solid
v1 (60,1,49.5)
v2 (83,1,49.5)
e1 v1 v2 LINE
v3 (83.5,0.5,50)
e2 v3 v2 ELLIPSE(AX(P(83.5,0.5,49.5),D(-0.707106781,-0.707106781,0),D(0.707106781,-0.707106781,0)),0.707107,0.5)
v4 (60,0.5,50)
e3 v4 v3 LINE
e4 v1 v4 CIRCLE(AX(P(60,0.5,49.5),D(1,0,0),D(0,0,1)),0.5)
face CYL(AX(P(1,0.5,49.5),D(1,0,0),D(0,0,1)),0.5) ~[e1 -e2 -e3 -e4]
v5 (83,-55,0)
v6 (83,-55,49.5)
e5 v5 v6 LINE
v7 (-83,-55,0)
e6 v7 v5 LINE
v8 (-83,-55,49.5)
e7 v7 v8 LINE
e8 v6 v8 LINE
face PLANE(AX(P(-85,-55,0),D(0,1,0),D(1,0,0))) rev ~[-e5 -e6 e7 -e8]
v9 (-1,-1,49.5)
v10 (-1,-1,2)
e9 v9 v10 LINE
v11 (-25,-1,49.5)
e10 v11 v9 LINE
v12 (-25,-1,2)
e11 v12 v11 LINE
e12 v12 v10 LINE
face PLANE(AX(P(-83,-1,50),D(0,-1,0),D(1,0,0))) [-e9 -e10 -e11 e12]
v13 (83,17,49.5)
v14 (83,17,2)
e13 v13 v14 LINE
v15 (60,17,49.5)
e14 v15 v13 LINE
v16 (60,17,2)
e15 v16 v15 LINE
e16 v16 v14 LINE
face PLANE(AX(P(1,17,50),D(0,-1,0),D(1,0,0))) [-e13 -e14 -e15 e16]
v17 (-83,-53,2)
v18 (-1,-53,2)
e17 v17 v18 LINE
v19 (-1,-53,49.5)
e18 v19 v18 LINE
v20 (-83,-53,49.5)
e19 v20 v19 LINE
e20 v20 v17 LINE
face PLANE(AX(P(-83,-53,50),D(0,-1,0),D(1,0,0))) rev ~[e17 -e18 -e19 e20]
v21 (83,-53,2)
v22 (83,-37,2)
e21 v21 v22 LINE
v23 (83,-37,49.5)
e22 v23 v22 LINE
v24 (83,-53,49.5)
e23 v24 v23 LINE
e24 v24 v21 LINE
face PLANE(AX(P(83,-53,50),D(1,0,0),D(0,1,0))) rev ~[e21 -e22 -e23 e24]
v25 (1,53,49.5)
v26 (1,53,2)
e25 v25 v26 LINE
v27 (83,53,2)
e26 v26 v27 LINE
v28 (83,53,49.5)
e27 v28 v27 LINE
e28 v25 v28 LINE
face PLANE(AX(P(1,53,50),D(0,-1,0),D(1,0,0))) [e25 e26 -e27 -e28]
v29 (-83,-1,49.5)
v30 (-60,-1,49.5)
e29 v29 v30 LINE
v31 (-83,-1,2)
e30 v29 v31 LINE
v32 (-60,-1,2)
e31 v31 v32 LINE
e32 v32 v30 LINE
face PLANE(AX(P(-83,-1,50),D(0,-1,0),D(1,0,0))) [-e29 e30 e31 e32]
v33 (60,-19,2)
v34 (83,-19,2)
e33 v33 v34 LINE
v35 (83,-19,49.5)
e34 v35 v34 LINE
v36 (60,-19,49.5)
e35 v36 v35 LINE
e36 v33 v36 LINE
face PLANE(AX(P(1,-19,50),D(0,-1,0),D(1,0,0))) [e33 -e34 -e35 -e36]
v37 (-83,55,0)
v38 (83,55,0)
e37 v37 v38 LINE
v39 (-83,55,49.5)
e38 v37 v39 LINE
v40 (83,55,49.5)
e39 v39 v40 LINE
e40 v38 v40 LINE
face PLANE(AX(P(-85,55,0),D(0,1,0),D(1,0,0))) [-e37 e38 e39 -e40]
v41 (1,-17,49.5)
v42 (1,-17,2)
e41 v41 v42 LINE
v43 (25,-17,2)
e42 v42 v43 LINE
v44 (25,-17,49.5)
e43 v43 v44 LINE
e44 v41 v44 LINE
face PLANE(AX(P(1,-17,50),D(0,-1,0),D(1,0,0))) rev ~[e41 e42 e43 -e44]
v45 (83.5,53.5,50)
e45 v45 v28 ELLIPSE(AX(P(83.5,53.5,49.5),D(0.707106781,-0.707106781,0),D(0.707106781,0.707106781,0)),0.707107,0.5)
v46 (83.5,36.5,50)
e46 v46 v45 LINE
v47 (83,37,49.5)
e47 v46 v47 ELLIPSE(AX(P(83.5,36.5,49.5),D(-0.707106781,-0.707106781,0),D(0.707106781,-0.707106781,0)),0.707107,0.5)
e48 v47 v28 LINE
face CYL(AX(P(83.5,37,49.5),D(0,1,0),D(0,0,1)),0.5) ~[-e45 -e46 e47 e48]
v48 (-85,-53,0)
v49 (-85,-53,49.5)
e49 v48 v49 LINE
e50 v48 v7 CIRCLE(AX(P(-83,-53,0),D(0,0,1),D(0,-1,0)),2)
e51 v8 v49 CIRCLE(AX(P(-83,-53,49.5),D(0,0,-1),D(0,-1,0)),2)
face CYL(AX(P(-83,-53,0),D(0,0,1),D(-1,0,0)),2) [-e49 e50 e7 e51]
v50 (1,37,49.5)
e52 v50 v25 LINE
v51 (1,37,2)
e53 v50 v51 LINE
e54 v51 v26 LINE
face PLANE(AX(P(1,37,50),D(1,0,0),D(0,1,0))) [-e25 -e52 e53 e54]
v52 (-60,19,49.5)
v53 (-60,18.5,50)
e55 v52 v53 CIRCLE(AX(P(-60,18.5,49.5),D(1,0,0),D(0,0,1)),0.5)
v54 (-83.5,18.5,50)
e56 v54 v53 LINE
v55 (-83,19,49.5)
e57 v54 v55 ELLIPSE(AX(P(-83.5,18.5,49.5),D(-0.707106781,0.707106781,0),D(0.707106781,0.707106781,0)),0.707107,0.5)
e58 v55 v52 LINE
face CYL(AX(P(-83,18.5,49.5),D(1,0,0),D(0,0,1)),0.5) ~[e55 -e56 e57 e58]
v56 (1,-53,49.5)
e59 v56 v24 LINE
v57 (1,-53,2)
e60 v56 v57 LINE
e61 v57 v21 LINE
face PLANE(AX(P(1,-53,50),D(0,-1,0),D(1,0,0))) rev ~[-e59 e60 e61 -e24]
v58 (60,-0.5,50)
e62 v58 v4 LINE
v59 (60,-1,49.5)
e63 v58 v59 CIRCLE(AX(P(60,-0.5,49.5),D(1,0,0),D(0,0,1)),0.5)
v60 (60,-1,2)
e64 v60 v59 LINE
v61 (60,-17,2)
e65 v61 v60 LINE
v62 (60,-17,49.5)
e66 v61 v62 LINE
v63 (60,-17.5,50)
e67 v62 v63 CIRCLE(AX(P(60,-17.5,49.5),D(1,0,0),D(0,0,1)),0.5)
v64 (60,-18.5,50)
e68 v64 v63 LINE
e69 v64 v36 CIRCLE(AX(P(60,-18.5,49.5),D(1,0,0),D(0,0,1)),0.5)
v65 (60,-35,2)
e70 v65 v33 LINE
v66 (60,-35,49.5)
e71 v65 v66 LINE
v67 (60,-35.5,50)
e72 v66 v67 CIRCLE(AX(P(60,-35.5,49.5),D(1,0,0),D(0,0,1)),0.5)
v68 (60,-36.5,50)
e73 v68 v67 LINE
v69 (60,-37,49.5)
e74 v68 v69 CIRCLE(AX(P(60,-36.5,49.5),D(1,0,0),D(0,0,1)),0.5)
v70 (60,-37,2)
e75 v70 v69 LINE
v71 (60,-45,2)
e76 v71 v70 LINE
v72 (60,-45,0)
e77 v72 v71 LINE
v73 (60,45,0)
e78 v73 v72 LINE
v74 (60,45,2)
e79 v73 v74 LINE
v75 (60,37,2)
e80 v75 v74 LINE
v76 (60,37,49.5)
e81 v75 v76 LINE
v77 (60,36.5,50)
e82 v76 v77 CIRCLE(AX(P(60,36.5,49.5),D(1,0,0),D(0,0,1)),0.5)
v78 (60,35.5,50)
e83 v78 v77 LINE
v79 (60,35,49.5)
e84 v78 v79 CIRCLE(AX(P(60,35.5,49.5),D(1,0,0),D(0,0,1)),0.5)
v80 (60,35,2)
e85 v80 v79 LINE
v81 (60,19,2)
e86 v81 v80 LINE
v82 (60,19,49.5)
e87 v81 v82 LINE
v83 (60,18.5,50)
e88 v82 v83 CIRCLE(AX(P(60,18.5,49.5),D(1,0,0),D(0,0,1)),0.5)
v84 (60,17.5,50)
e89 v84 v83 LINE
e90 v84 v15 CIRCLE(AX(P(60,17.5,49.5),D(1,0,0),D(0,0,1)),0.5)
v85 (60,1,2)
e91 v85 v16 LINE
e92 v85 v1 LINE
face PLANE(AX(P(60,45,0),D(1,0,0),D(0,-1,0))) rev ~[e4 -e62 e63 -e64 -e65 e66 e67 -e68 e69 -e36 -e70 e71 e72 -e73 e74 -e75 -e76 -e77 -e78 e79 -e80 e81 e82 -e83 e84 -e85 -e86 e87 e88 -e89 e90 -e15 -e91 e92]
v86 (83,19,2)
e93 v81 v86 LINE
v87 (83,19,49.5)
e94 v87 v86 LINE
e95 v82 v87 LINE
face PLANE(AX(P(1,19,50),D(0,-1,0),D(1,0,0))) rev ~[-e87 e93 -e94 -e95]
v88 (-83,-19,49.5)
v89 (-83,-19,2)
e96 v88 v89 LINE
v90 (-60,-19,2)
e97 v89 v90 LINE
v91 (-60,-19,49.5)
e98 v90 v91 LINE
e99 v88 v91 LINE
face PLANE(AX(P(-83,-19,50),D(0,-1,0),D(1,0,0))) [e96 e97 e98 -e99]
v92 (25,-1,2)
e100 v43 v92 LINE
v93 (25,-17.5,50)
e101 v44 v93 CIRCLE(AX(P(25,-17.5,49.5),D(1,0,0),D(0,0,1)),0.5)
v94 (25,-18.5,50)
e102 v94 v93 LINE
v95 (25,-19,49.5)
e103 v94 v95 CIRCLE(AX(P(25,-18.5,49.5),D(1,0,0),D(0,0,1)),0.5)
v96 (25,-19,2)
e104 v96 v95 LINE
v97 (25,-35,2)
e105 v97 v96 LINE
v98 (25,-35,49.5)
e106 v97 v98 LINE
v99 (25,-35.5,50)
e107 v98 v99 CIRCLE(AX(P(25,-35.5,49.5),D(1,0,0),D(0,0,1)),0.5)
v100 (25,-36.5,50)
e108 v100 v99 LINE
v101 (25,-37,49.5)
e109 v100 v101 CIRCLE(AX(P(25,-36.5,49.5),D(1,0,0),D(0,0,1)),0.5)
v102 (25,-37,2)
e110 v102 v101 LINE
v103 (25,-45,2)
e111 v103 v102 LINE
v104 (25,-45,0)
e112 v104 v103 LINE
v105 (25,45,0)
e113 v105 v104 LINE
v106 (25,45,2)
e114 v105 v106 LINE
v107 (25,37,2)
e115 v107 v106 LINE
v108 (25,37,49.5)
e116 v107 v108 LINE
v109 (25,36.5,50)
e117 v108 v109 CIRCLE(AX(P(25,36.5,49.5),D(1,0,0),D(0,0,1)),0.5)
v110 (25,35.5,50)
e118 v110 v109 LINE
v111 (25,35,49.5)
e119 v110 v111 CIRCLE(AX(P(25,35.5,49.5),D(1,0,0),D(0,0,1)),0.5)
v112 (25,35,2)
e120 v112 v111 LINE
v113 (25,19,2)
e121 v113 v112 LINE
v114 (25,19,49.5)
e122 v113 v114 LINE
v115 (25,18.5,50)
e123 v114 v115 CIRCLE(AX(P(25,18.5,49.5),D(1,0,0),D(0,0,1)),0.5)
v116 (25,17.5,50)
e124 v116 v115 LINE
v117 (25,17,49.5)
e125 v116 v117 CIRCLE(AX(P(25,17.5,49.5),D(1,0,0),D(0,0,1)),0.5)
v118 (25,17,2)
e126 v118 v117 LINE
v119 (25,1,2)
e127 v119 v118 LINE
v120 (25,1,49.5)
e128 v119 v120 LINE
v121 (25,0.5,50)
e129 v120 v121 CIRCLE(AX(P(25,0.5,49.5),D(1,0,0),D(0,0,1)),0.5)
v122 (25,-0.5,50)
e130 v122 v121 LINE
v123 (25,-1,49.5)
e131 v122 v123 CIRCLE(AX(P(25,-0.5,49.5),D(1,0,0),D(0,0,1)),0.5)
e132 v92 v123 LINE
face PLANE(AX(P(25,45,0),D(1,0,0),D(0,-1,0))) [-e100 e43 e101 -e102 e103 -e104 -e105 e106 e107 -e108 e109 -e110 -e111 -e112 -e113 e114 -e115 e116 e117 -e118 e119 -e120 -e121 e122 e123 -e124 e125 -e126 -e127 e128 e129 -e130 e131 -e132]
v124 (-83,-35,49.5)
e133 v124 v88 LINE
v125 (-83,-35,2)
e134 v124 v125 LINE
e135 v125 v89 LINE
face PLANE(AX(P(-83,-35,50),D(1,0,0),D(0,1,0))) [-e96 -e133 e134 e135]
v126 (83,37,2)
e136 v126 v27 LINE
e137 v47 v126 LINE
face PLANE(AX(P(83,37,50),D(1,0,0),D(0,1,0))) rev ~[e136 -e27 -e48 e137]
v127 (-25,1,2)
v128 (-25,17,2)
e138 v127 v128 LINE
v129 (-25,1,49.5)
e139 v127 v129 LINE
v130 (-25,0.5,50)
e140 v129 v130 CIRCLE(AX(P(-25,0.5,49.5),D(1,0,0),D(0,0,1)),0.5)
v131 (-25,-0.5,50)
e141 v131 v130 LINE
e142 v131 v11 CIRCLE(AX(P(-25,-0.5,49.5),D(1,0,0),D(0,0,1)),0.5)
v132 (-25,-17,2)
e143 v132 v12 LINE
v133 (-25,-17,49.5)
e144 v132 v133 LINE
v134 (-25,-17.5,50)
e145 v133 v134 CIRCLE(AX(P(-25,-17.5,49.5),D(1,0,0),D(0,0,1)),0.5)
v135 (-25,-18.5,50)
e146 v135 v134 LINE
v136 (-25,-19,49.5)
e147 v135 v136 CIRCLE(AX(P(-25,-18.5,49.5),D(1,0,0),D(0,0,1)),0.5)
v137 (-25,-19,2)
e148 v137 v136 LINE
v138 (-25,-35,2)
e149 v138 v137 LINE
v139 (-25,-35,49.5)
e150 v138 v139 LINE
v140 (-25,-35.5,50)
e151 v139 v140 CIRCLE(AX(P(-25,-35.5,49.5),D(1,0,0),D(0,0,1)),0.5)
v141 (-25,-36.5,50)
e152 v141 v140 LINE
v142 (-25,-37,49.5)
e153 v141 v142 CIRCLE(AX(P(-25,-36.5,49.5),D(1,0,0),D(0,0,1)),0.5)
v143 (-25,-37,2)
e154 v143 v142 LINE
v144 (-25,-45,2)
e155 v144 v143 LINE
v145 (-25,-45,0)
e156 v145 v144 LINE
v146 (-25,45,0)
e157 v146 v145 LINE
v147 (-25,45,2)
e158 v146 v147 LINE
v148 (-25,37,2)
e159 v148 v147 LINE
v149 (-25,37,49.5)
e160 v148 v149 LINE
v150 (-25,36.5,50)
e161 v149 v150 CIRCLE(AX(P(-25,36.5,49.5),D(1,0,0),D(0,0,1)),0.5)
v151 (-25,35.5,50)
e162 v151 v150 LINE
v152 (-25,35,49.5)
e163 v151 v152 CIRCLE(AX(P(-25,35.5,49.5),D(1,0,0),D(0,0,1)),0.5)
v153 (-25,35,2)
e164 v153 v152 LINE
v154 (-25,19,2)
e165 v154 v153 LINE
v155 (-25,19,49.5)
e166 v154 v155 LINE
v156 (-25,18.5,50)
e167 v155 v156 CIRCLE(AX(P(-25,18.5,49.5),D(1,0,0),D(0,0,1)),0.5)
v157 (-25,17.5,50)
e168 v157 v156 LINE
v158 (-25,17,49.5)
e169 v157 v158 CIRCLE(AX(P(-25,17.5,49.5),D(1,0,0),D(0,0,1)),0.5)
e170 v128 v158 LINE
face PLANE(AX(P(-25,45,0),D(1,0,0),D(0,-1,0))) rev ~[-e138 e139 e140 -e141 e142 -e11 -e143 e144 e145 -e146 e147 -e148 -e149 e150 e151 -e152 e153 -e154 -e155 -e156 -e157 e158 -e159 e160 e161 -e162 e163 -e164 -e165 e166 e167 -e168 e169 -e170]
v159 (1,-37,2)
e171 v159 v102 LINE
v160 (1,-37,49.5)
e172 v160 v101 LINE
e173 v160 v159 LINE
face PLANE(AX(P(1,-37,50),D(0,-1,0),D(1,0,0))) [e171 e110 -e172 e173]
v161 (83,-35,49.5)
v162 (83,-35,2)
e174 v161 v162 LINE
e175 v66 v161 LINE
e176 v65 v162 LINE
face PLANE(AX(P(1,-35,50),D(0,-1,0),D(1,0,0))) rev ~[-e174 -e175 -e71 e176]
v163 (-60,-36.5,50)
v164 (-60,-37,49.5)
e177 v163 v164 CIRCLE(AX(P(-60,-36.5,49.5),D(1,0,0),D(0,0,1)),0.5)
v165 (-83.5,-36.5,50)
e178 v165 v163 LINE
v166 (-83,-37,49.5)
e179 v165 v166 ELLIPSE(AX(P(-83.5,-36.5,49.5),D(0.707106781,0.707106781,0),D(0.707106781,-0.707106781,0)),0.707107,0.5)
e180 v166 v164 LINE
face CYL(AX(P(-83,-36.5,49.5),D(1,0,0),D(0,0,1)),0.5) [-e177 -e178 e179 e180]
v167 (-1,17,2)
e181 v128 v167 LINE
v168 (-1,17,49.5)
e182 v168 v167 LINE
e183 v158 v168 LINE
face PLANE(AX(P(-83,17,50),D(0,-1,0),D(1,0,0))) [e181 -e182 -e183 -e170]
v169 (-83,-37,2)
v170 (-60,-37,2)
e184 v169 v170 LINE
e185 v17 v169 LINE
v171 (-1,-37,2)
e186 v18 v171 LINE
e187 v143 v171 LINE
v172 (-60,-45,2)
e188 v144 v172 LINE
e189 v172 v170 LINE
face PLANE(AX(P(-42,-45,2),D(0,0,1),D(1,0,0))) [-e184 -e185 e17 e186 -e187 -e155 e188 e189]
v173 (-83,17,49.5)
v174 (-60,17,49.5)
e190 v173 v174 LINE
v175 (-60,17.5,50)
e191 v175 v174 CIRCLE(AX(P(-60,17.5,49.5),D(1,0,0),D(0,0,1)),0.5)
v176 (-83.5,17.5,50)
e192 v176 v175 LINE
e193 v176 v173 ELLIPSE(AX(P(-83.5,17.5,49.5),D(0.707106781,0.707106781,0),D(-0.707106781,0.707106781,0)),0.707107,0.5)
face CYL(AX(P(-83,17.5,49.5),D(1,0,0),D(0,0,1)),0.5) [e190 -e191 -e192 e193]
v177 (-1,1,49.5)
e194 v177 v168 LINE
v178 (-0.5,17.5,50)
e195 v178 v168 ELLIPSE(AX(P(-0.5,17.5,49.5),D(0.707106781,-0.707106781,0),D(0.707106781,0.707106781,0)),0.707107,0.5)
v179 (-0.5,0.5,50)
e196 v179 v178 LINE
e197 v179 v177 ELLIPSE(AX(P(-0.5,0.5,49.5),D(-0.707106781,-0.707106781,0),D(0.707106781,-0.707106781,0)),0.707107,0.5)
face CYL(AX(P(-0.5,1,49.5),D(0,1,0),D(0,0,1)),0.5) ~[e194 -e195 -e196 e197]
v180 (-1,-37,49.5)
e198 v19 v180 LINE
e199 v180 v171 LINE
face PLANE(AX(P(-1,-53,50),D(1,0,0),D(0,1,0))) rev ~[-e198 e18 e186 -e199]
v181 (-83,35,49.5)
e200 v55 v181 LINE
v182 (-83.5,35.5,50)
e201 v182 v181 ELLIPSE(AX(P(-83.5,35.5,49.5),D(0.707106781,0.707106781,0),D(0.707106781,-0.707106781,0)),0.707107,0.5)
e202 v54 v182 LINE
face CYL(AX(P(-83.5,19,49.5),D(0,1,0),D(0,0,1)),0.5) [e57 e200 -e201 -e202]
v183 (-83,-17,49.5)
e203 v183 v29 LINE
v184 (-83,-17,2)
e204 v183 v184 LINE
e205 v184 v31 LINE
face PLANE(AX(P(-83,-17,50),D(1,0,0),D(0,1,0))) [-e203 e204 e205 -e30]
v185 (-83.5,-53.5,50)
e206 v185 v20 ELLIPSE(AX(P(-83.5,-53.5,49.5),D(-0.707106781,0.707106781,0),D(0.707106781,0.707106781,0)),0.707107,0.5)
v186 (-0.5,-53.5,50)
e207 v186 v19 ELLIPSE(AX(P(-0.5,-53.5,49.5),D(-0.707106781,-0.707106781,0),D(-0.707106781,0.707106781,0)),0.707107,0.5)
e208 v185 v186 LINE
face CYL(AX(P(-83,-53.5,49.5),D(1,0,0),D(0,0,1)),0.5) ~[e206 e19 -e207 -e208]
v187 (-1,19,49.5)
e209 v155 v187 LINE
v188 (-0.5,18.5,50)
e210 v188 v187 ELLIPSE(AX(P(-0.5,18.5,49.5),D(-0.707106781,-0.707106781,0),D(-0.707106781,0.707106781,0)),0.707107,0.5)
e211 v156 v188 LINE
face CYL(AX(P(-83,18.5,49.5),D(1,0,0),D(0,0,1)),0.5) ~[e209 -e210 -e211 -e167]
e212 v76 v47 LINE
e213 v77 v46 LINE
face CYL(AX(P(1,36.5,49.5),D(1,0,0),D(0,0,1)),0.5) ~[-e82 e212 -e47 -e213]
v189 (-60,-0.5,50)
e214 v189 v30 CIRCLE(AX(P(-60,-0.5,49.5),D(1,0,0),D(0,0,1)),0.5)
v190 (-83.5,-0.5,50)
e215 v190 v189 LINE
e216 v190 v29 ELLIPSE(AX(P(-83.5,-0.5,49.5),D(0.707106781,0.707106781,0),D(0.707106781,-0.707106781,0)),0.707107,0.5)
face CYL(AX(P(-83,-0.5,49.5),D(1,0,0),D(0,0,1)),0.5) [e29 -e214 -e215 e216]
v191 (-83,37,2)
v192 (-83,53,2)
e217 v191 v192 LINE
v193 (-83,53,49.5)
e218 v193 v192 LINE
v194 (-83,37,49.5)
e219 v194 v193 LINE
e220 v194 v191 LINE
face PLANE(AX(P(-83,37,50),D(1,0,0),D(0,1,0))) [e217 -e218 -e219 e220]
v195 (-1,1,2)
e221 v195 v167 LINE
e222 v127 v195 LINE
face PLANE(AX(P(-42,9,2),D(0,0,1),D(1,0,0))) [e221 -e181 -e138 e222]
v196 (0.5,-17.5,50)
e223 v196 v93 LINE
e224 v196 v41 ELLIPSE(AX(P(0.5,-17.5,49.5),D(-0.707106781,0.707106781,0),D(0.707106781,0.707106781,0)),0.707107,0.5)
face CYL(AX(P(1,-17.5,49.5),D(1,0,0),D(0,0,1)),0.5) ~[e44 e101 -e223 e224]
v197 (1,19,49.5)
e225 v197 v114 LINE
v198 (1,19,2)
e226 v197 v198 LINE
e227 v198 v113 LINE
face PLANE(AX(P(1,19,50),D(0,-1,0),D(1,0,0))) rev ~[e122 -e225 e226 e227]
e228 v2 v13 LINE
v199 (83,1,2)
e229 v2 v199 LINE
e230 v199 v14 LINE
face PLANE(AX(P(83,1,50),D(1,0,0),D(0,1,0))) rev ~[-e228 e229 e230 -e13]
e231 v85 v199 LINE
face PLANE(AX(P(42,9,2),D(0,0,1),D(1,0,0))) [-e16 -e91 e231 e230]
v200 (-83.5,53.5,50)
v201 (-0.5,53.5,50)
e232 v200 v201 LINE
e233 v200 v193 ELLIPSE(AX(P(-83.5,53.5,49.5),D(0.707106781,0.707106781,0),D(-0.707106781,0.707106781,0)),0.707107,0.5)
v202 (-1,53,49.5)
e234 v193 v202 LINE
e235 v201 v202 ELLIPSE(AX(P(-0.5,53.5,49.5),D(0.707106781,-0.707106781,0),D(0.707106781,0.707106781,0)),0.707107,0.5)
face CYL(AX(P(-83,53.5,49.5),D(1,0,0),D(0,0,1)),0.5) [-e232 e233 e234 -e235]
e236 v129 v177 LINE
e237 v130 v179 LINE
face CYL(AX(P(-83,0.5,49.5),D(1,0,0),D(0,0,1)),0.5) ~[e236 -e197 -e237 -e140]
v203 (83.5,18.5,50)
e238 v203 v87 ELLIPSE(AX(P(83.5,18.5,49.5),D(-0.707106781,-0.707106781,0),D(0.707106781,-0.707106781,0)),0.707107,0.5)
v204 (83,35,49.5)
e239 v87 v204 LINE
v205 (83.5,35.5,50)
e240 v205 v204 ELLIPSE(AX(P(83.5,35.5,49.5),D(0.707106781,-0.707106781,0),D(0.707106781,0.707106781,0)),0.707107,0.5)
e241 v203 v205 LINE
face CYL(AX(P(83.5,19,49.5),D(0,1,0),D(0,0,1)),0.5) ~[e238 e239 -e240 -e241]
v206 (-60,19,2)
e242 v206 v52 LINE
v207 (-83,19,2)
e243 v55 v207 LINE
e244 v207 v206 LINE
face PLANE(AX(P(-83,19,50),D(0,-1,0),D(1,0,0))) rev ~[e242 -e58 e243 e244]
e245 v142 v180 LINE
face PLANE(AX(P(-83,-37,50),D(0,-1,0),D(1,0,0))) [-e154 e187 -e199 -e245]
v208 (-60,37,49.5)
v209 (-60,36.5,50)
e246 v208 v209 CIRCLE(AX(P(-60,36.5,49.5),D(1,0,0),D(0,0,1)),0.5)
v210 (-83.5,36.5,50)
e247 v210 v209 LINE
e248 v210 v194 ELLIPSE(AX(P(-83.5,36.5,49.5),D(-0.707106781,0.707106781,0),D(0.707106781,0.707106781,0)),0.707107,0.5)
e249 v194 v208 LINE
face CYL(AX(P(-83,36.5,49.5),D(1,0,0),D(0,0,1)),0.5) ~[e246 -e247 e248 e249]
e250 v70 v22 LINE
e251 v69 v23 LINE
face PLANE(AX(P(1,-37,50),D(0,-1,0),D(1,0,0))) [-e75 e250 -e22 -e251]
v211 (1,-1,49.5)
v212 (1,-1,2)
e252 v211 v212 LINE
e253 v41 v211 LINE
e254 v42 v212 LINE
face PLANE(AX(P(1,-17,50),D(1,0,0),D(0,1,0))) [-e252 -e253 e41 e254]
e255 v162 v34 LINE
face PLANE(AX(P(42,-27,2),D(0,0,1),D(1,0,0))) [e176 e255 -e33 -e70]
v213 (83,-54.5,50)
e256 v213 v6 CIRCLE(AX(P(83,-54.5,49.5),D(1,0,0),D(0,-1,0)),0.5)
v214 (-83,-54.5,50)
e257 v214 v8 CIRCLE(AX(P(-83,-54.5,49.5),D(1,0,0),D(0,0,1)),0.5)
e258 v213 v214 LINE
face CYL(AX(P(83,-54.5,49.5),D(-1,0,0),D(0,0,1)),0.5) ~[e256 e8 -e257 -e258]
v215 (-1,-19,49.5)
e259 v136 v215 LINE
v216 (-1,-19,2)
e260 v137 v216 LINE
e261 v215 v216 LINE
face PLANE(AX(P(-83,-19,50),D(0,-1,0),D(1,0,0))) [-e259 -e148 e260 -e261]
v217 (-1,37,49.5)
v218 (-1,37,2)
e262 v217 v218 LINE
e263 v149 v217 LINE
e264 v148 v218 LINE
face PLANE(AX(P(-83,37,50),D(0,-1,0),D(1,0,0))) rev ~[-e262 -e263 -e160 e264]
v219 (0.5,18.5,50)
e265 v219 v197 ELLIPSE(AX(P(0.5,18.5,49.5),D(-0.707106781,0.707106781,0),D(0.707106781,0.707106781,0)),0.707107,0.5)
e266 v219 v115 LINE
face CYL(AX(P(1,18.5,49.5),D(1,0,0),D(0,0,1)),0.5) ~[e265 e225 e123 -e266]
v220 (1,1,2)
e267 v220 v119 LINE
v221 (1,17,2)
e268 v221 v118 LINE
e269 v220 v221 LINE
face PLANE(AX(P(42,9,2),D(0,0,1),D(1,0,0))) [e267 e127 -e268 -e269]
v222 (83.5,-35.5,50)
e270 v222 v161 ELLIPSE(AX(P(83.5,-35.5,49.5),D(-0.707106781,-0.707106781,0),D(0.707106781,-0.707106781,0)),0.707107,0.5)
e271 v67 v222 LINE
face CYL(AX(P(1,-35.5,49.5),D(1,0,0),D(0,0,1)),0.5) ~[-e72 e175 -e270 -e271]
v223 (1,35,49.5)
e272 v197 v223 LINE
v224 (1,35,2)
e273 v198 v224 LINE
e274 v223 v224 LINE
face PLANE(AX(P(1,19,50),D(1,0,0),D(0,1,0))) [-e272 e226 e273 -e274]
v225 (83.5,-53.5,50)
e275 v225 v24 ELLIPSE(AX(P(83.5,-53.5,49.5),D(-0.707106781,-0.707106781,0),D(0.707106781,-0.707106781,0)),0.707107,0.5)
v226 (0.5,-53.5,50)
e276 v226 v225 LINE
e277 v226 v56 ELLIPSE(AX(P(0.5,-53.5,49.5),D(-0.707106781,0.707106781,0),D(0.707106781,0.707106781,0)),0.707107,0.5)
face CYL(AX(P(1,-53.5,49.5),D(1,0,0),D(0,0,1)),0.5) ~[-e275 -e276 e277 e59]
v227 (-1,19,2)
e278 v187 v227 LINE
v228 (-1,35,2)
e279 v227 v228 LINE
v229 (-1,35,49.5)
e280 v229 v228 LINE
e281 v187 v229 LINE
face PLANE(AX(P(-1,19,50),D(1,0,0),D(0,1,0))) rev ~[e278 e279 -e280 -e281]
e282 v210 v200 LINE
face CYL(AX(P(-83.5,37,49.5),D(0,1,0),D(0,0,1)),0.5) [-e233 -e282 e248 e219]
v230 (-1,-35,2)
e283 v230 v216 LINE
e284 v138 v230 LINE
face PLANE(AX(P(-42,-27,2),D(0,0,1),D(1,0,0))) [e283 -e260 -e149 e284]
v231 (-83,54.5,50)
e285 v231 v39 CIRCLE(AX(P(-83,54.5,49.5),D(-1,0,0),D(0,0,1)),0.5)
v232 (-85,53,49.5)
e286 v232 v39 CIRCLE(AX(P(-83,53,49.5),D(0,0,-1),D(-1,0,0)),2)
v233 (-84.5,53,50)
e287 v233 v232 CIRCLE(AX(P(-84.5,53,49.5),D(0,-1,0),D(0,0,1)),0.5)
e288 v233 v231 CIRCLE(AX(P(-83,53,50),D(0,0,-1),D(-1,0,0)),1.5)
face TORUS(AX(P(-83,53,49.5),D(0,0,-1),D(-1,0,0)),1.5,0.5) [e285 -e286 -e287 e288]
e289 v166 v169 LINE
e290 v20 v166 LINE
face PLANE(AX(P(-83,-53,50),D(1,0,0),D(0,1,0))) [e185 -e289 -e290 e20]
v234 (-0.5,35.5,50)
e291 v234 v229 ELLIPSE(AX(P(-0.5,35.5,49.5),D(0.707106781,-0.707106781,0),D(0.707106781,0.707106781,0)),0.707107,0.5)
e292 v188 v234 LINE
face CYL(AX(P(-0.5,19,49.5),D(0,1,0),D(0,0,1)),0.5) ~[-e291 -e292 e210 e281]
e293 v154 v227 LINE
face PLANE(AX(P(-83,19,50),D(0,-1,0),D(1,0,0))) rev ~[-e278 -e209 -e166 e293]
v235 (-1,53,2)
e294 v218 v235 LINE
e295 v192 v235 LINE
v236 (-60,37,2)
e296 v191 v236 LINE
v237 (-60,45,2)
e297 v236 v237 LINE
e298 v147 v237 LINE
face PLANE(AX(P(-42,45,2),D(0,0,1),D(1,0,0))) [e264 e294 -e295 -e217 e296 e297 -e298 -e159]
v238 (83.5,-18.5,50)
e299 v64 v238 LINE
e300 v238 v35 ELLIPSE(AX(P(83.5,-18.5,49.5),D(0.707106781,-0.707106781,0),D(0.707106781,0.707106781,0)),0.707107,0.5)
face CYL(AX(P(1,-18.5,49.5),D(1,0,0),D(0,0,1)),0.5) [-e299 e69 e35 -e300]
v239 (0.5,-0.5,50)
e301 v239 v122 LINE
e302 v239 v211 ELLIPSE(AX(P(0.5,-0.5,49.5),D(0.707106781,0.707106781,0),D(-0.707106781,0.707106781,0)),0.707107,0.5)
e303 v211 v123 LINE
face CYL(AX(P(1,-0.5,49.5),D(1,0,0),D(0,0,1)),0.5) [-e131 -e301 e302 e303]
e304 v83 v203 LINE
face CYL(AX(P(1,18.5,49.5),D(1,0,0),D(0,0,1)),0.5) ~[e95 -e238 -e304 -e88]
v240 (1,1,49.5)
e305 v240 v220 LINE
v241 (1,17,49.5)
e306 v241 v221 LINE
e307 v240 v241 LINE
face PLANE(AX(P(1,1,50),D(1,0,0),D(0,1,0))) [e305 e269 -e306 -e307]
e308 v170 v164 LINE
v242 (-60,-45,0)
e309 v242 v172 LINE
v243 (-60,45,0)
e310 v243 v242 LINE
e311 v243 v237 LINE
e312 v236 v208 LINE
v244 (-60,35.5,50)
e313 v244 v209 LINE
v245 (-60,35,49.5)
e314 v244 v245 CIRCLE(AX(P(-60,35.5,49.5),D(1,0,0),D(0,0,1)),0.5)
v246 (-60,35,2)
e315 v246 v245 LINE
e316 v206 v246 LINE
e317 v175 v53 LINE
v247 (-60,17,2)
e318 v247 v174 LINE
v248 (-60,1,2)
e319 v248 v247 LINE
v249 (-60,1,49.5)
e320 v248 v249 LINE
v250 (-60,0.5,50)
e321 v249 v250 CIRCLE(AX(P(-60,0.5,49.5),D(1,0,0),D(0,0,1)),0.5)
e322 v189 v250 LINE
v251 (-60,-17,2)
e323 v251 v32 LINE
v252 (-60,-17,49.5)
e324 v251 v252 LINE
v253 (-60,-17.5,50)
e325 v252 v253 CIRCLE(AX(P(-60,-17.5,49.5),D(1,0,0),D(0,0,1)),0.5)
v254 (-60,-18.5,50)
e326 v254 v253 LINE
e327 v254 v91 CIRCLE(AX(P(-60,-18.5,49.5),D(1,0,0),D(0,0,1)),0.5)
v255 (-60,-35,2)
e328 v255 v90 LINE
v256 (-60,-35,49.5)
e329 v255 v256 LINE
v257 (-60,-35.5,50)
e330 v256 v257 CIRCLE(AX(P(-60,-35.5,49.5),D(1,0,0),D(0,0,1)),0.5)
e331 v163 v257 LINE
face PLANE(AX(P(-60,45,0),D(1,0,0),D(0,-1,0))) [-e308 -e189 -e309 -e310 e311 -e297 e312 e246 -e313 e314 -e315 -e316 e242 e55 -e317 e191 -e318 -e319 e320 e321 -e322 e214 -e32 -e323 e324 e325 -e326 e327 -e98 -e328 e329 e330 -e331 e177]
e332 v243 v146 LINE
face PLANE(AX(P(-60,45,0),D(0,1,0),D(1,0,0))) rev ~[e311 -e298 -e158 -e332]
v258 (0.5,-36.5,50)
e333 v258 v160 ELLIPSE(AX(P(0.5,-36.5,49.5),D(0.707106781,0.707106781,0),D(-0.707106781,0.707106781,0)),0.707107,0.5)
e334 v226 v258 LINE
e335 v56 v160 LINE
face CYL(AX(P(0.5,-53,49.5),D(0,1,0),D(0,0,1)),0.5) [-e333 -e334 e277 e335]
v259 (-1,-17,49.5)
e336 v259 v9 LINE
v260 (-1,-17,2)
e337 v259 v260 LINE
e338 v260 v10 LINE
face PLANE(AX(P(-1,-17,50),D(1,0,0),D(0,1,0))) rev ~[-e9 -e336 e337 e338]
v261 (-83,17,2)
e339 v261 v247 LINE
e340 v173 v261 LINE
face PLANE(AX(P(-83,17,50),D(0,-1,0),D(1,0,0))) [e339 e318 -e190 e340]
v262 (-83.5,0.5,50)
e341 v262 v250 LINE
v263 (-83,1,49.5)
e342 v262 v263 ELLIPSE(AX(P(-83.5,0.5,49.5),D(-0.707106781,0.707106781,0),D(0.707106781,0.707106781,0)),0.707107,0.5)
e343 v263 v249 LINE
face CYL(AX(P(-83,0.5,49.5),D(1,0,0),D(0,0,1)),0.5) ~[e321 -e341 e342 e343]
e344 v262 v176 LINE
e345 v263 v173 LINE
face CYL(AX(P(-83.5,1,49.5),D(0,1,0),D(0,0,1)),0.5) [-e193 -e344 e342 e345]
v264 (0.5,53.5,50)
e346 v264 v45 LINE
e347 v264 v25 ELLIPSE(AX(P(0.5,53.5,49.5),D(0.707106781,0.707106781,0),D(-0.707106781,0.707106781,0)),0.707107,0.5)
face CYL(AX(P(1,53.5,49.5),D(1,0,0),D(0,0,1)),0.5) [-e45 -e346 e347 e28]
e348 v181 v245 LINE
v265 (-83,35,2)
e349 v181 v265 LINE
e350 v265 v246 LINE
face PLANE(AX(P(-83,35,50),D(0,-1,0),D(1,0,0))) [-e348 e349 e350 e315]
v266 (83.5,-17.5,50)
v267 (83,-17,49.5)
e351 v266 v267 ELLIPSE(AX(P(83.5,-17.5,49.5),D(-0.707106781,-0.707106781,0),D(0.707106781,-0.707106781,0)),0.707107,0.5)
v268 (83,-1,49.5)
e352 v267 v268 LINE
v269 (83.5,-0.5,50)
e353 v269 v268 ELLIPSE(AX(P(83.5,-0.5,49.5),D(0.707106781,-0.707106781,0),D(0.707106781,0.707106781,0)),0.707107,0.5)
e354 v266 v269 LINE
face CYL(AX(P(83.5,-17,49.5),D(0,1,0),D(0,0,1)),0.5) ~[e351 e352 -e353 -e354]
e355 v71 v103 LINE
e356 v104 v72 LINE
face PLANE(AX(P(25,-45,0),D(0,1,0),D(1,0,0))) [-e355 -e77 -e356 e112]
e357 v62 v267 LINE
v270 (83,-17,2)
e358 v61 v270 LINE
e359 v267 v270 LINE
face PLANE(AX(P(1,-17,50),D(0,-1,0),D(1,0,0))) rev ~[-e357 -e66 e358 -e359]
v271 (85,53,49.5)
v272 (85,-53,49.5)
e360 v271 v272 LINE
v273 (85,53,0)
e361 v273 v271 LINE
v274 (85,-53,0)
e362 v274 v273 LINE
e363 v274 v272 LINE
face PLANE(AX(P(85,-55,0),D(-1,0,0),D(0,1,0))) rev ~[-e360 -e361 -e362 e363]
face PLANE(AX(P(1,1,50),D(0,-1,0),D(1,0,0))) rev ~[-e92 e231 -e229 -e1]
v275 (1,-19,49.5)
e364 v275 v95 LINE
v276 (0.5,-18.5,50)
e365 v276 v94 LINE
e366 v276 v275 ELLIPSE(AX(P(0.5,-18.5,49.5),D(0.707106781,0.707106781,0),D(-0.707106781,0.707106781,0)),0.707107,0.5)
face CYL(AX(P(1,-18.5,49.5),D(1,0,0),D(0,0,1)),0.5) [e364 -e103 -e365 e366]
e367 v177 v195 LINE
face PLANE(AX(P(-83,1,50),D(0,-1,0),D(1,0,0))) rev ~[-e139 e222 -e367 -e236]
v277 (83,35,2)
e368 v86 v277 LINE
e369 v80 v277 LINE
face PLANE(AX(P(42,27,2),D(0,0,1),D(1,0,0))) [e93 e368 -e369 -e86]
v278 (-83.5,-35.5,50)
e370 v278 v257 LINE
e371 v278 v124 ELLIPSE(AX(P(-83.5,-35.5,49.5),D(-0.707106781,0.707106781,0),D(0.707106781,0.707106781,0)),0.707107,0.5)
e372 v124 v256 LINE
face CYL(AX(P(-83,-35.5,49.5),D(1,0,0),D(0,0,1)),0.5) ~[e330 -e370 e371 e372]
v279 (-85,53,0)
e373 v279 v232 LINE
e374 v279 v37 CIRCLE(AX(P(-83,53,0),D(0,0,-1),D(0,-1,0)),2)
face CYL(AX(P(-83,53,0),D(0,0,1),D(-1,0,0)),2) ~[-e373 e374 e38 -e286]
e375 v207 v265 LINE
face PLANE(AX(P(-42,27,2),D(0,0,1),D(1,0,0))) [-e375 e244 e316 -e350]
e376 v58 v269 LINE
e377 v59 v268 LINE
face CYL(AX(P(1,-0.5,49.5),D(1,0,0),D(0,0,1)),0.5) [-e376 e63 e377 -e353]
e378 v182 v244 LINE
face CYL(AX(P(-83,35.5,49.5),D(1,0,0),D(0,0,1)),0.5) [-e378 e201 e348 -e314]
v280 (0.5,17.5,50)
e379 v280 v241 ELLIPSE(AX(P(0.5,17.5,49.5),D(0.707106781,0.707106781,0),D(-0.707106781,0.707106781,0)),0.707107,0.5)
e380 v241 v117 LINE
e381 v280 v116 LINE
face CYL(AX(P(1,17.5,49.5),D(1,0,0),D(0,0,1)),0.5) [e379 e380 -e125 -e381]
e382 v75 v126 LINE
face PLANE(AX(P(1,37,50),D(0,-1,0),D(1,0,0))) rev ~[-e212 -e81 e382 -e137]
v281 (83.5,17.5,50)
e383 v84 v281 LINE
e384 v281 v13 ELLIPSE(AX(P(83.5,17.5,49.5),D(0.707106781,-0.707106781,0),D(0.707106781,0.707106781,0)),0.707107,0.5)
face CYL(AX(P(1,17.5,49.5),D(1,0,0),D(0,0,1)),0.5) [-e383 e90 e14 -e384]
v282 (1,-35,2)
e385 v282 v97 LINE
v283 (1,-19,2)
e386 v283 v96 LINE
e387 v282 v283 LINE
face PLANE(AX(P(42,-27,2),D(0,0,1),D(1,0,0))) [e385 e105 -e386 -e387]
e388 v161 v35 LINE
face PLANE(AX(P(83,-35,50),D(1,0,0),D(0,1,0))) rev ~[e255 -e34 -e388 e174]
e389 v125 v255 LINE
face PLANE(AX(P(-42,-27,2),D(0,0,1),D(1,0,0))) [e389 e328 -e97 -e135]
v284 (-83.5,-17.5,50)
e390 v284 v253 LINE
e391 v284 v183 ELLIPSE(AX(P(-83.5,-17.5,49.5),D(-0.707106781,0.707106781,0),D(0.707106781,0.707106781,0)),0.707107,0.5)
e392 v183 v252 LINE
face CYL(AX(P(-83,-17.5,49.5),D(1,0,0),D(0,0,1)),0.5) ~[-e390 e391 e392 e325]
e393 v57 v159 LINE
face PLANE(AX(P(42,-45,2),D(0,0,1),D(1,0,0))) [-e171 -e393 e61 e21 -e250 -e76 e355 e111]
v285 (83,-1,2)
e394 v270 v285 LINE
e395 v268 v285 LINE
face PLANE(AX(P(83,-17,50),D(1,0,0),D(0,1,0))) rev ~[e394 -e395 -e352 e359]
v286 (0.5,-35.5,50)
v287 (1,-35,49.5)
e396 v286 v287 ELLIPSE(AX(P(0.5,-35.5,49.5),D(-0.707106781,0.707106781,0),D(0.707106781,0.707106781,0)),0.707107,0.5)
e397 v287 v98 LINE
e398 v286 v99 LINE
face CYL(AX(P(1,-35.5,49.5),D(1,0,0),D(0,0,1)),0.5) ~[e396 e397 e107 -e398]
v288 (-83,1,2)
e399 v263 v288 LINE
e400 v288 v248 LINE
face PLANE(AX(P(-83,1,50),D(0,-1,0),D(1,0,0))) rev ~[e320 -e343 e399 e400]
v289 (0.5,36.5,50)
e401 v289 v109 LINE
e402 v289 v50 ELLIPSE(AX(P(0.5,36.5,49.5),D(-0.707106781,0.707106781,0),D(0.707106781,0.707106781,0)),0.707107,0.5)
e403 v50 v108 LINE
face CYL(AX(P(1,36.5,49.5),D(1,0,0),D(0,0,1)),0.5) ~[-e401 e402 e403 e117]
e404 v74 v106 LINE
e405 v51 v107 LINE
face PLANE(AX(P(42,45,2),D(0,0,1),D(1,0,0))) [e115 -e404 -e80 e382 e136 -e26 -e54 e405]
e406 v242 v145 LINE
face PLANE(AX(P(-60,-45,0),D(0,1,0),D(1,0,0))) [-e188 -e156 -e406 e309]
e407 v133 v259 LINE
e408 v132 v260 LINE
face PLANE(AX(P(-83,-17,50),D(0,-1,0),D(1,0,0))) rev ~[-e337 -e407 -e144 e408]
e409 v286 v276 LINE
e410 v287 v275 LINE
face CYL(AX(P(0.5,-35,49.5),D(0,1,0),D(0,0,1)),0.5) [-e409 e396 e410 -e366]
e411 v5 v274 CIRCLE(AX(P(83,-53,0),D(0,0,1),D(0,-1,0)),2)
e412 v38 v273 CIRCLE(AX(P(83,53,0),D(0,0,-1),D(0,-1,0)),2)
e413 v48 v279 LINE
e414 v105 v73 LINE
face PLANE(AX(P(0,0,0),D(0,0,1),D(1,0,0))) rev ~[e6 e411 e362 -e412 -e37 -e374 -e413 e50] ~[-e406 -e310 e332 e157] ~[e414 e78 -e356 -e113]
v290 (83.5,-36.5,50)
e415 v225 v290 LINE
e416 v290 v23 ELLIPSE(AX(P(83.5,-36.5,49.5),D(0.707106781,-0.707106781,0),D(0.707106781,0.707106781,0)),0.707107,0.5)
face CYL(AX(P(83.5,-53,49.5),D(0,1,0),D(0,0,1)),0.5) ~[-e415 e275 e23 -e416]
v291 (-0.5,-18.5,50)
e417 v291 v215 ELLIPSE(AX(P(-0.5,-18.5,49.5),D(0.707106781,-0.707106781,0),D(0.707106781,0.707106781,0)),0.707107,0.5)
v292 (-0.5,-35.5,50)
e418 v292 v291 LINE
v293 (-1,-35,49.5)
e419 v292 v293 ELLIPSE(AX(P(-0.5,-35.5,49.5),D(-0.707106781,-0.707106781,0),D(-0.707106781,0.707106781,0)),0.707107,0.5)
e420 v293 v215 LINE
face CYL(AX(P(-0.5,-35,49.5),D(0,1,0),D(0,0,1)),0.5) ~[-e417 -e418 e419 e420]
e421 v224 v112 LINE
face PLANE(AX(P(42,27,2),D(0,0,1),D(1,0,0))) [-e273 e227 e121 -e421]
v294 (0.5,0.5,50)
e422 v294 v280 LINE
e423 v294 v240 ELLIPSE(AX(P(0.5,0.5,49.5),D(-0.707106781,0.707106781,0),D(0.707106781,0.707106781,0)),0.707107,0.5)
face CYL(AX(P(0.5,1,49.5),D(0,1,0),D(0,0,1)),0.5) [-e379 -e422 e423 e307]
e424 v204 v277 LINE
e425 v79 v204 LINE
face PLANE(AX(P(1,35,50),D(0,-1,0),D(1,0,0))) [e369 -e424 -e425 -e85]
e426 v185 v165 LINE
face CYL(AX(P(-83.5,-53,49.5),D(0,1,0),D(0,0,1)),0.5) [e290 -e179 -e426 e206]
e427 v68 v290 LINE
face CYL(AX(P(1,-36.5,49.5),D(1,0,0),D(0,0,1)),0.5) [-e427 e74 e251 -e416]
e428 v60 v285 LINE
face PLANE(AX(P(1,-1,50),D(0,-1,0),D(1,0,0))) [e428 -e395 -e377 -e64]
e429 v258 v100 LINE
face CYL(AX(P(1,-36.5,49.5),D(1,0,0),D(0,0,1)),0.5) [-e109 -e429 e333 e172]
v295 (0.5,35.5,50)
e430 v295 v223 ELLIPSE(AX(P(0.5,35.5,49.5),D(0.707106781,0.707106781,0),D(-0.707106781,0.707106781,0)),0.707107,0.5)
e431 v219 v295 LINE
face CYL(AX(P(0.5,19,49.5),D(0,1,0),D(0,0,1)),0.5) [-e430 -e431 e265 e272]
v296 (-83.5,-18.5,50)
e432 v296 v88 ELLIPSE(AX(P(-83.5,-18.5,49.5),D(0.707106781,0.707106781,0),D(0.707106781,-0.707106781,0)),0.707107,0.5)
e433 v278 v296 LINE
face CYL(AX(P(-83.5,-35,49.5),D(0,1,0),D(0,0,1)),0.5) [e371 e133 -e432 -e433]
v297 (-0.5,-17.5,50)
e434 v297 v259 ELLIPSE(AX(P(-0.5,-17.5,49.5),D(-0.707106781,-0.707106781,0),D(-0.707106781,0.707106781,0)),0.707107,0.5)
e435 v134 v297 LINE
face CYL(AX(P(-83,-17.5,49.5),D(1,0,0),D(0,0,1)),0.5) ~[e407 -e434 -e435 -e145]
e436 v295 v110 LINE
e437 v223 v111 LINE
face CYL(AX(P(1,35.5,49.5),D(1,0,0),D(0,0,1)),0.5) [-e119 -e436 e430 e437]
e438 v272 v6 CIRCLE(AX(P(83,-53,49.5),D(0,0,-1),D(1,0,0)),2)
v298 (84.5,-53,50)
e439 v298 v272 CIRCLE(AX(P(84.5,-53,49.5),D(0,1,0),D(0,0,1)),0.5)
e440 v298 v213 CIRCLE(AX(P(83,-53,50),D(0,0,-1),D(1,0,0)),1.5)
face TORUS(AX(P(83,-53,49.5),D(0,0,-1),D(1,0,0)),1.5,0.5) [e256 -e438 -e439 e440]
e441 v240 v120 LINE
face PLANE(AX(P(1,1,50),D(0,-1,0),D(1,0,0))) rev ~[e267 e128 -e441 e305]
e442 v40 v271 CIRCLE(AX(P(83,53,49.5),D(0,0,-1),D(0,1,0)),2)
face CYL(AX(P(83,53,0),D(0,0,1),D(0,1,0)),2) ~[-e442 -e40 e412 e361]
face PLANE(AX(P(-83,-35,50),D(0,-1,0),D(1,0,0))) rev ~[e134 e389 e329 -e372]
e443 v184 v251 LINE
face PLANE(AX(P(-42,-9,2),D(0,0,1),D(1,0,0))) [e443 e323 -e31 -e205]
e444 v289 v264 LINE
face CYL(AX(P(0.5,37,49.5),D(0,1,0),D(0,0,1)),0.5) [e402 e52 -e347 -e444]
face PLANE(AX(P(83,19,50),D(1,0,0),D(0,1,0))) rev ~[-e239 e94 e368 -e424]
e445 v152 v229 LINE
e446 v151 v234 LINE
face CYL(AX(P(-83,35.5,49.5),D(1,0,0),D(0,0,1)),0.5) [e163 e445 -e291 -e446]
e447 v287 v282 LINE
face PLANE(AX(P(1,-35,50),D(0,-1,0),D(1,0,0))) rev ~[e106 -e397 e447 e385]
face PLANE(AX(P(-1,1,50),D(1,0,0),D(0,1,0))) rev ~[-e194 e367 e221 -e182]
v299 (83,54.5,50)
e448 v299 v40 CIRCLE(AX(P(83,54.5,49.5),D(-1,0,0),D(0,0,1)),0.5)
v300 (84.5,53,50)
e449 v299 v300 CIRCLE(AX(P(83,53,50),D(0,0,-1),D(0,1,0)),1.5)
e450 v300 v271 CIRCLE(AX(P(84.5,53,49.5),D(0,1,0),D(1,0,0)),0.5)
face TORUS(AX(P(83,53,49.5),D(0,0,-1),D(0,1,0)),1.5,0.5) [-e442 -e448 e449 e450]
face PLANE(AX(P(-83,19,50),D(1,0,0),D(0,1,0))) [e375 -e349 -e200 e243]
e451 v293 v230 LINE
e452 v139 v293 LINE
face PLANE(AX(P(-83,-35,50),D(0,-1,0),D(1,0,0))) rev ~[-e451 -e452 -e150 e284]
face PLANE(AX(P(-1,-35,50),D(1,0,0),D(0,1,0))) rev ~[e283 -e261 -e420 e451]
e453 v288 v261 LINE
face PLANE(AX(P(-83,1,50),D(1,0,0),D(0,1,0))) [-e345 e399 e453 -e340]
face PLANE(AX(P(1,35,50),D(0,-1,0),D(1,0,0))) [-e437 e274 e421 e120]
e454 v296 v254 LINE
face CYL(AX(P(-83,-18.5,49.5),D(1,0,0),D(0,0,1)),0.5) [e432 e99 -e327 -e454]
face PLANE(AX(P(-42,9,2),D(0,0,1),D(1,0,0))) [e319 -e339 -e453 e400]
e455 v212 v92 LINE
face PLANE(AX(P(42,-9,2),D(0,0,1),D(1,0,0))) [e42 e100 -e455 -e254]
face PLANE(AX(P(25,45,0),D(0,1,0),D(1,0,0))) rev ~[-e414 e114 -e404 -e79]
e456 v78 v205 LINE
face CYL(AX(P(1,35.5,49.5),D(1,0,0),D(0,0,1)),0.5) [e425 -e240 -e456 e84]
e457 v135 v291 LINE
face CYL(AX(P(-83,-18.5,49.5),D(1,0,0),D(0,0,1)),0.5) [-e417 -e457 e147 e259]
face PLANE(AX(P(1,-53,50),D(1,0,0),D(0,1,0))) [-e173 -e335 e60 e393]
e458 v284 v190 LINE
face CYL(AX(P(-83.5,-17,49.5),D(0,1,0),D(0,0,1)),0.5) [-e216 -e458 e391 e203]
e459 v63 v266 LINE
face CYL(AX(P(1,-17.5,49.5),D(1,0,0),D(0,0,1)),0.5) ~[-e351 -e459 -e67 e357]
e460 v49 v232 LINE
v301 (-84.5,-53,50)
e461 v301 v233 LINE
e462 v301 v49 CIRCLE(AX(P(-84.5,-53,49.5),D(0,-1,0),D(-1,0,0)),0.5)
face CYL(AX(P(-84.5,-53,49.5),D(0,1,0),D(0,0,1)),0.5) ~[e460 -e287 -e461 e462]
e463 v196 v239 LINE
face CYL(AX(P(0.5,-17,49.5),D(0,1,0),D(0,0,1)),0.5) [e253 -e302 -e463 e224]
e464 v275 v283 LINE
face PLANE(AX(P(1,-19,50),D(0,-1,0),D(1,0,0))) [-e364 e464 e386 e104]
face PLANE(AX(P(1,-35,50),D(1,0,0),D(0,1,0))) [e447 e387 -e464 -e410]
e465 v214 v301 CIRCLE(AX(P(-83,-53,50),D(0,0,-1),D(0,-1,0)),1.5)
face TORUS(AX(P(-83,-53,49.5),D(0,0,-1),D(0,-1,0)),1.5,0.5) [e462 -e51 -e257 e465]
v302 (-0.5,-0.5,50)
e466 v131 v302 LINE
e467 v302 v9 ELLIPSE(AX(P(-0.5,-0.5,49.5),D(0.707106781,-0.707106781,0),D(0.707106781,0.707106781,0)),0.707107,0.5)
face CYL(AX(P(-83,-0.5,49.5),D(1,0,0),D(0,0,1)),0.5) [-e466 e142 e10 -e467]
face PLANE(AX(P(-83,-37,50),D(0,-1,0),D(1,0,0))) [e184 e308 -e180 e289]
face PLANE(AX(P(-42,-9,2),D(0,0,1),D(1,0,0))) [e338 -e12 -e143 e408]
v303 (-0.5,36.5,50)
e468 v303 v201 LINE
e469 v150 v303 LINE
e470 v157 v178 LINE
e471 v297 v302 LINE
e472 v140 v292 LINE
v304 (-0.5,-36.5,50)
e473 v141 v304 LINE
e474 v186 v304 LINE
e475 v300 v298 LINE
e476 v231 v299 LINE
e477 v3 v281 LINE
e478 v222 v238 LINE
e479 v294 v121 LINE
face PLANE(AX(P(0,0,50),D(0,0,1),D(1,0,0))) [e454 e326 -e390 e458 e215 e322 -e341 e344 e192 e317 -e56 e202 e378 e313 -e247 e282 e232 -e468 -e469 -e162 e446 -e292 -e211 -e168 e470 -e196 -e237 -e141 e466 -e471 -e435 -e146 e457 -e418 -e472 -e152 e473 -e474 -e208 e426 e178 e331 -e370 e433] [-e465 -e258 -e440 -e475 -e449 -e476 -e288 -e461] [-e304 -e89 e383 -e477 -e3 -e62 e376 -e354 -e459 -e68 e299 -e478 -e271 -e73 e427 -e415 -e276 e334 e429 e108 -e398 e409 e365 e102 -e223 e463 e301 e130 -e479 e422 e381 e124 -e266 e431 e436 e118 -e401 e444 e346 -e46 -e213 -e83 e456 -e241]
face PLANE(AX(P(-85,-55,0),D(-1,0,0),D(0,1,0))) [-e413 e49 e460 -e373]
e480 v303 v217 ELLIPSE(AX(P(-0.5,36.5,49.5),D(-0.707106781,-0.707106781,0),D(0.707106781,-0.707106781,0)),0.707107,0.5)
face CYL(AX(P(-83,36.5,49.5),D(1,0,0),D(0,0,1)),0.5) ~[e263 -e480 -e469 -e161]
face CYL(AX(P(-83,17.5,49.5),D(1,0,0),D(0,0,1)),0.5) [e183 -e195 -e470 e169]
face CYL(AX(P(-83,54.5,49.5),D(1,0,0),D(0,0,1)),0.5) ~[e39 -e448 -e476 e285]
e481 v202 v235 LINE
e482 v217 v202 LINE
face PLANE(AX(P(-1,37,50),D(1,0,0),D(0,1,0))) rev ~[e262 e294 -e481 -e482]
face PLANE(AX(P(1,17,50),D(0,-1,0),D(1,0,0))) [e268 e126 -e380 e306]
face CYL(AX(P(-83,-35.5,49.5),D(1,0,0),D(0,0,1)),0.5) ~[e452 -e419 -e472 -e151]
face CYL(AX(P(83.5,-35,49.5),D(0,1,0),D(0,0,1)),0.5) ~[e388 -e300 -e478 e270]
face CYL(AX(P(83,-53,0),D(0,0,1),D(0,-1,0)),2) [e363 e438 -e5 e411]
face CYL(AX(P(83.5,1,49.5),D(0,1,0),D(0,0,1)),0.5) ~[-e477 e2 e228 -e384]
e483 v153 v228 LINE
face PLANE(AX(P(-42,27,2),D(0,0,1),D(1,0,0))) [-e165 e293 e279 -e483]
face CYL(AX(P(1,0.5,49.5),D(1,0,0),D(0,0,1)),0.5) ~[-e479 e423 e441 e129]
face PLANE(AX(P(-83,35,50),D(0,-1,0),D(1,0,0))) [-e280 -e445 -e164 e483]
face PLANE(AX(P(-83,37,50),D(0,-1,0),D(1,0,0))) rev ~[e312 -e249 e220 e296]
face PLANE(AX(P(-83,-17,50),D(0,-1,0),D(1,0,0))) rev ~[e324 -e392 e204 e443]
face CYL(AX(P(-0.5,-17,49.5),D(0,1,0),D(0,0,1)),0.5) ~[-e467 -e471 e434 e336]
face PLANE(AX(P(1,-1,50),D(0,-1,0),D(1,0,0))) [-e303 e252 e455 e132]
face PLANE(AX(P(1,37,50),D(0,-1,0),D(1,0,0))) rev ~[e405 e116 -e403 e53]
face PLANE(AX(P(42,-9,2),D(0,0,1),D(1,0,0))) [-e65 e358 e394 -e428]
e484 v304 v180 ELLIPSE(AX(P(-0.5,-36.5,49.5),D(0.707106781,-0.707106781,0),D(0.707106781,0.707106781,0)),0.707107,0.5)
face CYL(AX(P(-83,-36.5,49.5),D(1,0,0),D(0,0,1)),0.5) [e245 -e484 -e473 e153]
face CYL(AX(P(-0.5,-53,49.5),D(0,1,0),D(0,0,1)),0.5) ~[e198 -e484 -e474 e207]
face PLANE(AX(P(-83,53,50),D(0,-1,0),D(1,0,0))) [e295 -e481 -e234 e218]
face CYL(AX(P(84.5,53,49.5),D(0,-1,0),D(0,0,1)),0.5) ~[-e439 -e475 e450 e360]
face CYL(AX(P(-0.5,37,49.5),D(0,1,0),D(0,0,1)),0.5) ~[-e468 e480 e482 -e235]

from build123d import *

# Parameters (mm, degrees)
SKETCH001_W     = 170
SKETCH001_H     = 110
PAD_DEPTH       = 50
SKETCH_W        = 82
SKETCH_H        = 16
POCKET_DEPTH    = 48
FILLET_R        = 2
FILLET001_R     = 0.5
SKETCH002_W     = 35
SKETCH002_H     = 90
POCKET001_DEPTH = 50.001


with BuildPart() as part:
    # Sketch001 → Pad (new body)
    with BuildSketch(Plane.XY):
        Rectangle(SKETCH001_W, SKETCH001_H)
    extrude(amount=PAD_DEPTH)

    # Sketch (on Face6 of Pad) → Pocket (cut)
    with BuildSketch(Plane.XY.offset(50)):
        with Locations((-42, 45)):
            Rectangle(SKETCH_W, SKETCH_H)
        with Locations((-42, 27)):
            Rectangle(SKETCH_W, SKETCH_H)
        with Locations((-42, 9)):
            Rectangle(SKETCH_W, SKETCH_H)
        with Locations((42, 45)):
            Rectangle(SKETCH_W, SKETCH_H)
        with Locations((42, 27)):
            Rectangle(SKETCH_W, SKETCH_H)
        with Locations((42, 9)):
            Rectangle(SKETCH_W, SKETCH_H)
        with Locations((-42, -9)):
            Rectangle(SKETCH_W, SKETCH_H)
        with Locations((-42, -27)):
            Rectangle(SKETCH_W, SKETCH_H)
        with Locations((-42, -45)):
            Rectangle(SKETCH_W, SKETCH_H)
        with Locations((42, -9)):
            Rectangle(SKETCH_W, SKETCH_H)
        with Locations((42, -27)):
            Rectangle(SKETCH_W, SKETCH_H)
        with Locations((42, -45)):
            Rectangle(SKETCH_W, SKETCH_H)
    extrude(amount=-POCKET_DEPTH, mode=Mode.SUBTRACT)

    # Fillet
    fillet_edges = [part.edges().sort_by_distance(p)[0] for p in [
        (85, 55, 25),
        (85, -55, 25),
        (-85, -55, 25),
        (-85, 55, 25),
    ]]
    fillet(fillet_edges, radius=FILLET_R)

    # Fillet001
    fillet001_edges = [part.edges().sort_by_distance(p)[0] for p in [
        (0, 55, 50),
        (84.414214, 54.414214, 50),
        (-84.414214, 54.414214, 50),
        (85, 0, 50),
        (-85, 0, 50),
        (84.414214, -54.414214, 50),
        (-84.414214, -54.414214, 50),
        (0, -55, 50),
        (-42, -37, 50),
        (-1, -45, 50),
        (-83, -45, 50),
        (-42, -53, 50),
        (-42, -19, 50),
        (-1, -27, 50),
        (-83, -27, 50),
        (-42, -35, 50),
        (-42, -1, 50),
        (-1, -9, 50),
        (-83, -9, 50),
        (-42, -17, 50),
        (1, -45, 50),
        (42, -53, 50),
        (42, -37, 50),
        (83, -45, 50),
        (1, -27, 50),
        (42, -35, 50),
        (42, -19, 50),
        (83, -27, 50),
        (1, -9, 50),
        (42, -17, 50),
        (42, -1, 50),
        (83, -9, 50),
        (-83, 9, 50),
        (-42, 1, 50),
        (-42, 17, 50),
        (-1, 9, 50),
        (-42, 35, 50),
        (-1, 27, 50),
        (-83, 27, 50),
        (-42, 19, 50),
        (-83, 45, 50),
        (-42, 37, 50),
        (-1, 45, 50),
        (-42, 53, 50),
        (1, 9, 50),
        (42, 1, 50),
        (42, 17, 50),
        (83, 9, 50),
        (1, 27, 50),
        (42, 19, 50),
        (42, 35, 50),
        (83, 27, 50),
        (1, 45, 50),
        (42, 37, 50),
        (42, 53, 50),
        (83, 45, 50),
    ]]
    fillet(fillet001_edges, radius=FILLET001_R)

    # Sketch002 (on Face4 of Fillet001) → Pocket001 (cut, through all)
    with BuildSketch(Plane(origin=(0, 0, 0), x_dir=(1, 0, 0), z_dir=(0, 0, -1))):
        with Locations((-42.5, 0)):
            Rectangle(SKETCH002_W, SKETCH002_H)
        with Locations((42.5, 0)):
            Rectangle(SKETCH002_W, SKETCH002_H)
    extrude(amount=-POCKET001_DEPTH, mode=Mode.SUBTRACT)


solid = part.part
